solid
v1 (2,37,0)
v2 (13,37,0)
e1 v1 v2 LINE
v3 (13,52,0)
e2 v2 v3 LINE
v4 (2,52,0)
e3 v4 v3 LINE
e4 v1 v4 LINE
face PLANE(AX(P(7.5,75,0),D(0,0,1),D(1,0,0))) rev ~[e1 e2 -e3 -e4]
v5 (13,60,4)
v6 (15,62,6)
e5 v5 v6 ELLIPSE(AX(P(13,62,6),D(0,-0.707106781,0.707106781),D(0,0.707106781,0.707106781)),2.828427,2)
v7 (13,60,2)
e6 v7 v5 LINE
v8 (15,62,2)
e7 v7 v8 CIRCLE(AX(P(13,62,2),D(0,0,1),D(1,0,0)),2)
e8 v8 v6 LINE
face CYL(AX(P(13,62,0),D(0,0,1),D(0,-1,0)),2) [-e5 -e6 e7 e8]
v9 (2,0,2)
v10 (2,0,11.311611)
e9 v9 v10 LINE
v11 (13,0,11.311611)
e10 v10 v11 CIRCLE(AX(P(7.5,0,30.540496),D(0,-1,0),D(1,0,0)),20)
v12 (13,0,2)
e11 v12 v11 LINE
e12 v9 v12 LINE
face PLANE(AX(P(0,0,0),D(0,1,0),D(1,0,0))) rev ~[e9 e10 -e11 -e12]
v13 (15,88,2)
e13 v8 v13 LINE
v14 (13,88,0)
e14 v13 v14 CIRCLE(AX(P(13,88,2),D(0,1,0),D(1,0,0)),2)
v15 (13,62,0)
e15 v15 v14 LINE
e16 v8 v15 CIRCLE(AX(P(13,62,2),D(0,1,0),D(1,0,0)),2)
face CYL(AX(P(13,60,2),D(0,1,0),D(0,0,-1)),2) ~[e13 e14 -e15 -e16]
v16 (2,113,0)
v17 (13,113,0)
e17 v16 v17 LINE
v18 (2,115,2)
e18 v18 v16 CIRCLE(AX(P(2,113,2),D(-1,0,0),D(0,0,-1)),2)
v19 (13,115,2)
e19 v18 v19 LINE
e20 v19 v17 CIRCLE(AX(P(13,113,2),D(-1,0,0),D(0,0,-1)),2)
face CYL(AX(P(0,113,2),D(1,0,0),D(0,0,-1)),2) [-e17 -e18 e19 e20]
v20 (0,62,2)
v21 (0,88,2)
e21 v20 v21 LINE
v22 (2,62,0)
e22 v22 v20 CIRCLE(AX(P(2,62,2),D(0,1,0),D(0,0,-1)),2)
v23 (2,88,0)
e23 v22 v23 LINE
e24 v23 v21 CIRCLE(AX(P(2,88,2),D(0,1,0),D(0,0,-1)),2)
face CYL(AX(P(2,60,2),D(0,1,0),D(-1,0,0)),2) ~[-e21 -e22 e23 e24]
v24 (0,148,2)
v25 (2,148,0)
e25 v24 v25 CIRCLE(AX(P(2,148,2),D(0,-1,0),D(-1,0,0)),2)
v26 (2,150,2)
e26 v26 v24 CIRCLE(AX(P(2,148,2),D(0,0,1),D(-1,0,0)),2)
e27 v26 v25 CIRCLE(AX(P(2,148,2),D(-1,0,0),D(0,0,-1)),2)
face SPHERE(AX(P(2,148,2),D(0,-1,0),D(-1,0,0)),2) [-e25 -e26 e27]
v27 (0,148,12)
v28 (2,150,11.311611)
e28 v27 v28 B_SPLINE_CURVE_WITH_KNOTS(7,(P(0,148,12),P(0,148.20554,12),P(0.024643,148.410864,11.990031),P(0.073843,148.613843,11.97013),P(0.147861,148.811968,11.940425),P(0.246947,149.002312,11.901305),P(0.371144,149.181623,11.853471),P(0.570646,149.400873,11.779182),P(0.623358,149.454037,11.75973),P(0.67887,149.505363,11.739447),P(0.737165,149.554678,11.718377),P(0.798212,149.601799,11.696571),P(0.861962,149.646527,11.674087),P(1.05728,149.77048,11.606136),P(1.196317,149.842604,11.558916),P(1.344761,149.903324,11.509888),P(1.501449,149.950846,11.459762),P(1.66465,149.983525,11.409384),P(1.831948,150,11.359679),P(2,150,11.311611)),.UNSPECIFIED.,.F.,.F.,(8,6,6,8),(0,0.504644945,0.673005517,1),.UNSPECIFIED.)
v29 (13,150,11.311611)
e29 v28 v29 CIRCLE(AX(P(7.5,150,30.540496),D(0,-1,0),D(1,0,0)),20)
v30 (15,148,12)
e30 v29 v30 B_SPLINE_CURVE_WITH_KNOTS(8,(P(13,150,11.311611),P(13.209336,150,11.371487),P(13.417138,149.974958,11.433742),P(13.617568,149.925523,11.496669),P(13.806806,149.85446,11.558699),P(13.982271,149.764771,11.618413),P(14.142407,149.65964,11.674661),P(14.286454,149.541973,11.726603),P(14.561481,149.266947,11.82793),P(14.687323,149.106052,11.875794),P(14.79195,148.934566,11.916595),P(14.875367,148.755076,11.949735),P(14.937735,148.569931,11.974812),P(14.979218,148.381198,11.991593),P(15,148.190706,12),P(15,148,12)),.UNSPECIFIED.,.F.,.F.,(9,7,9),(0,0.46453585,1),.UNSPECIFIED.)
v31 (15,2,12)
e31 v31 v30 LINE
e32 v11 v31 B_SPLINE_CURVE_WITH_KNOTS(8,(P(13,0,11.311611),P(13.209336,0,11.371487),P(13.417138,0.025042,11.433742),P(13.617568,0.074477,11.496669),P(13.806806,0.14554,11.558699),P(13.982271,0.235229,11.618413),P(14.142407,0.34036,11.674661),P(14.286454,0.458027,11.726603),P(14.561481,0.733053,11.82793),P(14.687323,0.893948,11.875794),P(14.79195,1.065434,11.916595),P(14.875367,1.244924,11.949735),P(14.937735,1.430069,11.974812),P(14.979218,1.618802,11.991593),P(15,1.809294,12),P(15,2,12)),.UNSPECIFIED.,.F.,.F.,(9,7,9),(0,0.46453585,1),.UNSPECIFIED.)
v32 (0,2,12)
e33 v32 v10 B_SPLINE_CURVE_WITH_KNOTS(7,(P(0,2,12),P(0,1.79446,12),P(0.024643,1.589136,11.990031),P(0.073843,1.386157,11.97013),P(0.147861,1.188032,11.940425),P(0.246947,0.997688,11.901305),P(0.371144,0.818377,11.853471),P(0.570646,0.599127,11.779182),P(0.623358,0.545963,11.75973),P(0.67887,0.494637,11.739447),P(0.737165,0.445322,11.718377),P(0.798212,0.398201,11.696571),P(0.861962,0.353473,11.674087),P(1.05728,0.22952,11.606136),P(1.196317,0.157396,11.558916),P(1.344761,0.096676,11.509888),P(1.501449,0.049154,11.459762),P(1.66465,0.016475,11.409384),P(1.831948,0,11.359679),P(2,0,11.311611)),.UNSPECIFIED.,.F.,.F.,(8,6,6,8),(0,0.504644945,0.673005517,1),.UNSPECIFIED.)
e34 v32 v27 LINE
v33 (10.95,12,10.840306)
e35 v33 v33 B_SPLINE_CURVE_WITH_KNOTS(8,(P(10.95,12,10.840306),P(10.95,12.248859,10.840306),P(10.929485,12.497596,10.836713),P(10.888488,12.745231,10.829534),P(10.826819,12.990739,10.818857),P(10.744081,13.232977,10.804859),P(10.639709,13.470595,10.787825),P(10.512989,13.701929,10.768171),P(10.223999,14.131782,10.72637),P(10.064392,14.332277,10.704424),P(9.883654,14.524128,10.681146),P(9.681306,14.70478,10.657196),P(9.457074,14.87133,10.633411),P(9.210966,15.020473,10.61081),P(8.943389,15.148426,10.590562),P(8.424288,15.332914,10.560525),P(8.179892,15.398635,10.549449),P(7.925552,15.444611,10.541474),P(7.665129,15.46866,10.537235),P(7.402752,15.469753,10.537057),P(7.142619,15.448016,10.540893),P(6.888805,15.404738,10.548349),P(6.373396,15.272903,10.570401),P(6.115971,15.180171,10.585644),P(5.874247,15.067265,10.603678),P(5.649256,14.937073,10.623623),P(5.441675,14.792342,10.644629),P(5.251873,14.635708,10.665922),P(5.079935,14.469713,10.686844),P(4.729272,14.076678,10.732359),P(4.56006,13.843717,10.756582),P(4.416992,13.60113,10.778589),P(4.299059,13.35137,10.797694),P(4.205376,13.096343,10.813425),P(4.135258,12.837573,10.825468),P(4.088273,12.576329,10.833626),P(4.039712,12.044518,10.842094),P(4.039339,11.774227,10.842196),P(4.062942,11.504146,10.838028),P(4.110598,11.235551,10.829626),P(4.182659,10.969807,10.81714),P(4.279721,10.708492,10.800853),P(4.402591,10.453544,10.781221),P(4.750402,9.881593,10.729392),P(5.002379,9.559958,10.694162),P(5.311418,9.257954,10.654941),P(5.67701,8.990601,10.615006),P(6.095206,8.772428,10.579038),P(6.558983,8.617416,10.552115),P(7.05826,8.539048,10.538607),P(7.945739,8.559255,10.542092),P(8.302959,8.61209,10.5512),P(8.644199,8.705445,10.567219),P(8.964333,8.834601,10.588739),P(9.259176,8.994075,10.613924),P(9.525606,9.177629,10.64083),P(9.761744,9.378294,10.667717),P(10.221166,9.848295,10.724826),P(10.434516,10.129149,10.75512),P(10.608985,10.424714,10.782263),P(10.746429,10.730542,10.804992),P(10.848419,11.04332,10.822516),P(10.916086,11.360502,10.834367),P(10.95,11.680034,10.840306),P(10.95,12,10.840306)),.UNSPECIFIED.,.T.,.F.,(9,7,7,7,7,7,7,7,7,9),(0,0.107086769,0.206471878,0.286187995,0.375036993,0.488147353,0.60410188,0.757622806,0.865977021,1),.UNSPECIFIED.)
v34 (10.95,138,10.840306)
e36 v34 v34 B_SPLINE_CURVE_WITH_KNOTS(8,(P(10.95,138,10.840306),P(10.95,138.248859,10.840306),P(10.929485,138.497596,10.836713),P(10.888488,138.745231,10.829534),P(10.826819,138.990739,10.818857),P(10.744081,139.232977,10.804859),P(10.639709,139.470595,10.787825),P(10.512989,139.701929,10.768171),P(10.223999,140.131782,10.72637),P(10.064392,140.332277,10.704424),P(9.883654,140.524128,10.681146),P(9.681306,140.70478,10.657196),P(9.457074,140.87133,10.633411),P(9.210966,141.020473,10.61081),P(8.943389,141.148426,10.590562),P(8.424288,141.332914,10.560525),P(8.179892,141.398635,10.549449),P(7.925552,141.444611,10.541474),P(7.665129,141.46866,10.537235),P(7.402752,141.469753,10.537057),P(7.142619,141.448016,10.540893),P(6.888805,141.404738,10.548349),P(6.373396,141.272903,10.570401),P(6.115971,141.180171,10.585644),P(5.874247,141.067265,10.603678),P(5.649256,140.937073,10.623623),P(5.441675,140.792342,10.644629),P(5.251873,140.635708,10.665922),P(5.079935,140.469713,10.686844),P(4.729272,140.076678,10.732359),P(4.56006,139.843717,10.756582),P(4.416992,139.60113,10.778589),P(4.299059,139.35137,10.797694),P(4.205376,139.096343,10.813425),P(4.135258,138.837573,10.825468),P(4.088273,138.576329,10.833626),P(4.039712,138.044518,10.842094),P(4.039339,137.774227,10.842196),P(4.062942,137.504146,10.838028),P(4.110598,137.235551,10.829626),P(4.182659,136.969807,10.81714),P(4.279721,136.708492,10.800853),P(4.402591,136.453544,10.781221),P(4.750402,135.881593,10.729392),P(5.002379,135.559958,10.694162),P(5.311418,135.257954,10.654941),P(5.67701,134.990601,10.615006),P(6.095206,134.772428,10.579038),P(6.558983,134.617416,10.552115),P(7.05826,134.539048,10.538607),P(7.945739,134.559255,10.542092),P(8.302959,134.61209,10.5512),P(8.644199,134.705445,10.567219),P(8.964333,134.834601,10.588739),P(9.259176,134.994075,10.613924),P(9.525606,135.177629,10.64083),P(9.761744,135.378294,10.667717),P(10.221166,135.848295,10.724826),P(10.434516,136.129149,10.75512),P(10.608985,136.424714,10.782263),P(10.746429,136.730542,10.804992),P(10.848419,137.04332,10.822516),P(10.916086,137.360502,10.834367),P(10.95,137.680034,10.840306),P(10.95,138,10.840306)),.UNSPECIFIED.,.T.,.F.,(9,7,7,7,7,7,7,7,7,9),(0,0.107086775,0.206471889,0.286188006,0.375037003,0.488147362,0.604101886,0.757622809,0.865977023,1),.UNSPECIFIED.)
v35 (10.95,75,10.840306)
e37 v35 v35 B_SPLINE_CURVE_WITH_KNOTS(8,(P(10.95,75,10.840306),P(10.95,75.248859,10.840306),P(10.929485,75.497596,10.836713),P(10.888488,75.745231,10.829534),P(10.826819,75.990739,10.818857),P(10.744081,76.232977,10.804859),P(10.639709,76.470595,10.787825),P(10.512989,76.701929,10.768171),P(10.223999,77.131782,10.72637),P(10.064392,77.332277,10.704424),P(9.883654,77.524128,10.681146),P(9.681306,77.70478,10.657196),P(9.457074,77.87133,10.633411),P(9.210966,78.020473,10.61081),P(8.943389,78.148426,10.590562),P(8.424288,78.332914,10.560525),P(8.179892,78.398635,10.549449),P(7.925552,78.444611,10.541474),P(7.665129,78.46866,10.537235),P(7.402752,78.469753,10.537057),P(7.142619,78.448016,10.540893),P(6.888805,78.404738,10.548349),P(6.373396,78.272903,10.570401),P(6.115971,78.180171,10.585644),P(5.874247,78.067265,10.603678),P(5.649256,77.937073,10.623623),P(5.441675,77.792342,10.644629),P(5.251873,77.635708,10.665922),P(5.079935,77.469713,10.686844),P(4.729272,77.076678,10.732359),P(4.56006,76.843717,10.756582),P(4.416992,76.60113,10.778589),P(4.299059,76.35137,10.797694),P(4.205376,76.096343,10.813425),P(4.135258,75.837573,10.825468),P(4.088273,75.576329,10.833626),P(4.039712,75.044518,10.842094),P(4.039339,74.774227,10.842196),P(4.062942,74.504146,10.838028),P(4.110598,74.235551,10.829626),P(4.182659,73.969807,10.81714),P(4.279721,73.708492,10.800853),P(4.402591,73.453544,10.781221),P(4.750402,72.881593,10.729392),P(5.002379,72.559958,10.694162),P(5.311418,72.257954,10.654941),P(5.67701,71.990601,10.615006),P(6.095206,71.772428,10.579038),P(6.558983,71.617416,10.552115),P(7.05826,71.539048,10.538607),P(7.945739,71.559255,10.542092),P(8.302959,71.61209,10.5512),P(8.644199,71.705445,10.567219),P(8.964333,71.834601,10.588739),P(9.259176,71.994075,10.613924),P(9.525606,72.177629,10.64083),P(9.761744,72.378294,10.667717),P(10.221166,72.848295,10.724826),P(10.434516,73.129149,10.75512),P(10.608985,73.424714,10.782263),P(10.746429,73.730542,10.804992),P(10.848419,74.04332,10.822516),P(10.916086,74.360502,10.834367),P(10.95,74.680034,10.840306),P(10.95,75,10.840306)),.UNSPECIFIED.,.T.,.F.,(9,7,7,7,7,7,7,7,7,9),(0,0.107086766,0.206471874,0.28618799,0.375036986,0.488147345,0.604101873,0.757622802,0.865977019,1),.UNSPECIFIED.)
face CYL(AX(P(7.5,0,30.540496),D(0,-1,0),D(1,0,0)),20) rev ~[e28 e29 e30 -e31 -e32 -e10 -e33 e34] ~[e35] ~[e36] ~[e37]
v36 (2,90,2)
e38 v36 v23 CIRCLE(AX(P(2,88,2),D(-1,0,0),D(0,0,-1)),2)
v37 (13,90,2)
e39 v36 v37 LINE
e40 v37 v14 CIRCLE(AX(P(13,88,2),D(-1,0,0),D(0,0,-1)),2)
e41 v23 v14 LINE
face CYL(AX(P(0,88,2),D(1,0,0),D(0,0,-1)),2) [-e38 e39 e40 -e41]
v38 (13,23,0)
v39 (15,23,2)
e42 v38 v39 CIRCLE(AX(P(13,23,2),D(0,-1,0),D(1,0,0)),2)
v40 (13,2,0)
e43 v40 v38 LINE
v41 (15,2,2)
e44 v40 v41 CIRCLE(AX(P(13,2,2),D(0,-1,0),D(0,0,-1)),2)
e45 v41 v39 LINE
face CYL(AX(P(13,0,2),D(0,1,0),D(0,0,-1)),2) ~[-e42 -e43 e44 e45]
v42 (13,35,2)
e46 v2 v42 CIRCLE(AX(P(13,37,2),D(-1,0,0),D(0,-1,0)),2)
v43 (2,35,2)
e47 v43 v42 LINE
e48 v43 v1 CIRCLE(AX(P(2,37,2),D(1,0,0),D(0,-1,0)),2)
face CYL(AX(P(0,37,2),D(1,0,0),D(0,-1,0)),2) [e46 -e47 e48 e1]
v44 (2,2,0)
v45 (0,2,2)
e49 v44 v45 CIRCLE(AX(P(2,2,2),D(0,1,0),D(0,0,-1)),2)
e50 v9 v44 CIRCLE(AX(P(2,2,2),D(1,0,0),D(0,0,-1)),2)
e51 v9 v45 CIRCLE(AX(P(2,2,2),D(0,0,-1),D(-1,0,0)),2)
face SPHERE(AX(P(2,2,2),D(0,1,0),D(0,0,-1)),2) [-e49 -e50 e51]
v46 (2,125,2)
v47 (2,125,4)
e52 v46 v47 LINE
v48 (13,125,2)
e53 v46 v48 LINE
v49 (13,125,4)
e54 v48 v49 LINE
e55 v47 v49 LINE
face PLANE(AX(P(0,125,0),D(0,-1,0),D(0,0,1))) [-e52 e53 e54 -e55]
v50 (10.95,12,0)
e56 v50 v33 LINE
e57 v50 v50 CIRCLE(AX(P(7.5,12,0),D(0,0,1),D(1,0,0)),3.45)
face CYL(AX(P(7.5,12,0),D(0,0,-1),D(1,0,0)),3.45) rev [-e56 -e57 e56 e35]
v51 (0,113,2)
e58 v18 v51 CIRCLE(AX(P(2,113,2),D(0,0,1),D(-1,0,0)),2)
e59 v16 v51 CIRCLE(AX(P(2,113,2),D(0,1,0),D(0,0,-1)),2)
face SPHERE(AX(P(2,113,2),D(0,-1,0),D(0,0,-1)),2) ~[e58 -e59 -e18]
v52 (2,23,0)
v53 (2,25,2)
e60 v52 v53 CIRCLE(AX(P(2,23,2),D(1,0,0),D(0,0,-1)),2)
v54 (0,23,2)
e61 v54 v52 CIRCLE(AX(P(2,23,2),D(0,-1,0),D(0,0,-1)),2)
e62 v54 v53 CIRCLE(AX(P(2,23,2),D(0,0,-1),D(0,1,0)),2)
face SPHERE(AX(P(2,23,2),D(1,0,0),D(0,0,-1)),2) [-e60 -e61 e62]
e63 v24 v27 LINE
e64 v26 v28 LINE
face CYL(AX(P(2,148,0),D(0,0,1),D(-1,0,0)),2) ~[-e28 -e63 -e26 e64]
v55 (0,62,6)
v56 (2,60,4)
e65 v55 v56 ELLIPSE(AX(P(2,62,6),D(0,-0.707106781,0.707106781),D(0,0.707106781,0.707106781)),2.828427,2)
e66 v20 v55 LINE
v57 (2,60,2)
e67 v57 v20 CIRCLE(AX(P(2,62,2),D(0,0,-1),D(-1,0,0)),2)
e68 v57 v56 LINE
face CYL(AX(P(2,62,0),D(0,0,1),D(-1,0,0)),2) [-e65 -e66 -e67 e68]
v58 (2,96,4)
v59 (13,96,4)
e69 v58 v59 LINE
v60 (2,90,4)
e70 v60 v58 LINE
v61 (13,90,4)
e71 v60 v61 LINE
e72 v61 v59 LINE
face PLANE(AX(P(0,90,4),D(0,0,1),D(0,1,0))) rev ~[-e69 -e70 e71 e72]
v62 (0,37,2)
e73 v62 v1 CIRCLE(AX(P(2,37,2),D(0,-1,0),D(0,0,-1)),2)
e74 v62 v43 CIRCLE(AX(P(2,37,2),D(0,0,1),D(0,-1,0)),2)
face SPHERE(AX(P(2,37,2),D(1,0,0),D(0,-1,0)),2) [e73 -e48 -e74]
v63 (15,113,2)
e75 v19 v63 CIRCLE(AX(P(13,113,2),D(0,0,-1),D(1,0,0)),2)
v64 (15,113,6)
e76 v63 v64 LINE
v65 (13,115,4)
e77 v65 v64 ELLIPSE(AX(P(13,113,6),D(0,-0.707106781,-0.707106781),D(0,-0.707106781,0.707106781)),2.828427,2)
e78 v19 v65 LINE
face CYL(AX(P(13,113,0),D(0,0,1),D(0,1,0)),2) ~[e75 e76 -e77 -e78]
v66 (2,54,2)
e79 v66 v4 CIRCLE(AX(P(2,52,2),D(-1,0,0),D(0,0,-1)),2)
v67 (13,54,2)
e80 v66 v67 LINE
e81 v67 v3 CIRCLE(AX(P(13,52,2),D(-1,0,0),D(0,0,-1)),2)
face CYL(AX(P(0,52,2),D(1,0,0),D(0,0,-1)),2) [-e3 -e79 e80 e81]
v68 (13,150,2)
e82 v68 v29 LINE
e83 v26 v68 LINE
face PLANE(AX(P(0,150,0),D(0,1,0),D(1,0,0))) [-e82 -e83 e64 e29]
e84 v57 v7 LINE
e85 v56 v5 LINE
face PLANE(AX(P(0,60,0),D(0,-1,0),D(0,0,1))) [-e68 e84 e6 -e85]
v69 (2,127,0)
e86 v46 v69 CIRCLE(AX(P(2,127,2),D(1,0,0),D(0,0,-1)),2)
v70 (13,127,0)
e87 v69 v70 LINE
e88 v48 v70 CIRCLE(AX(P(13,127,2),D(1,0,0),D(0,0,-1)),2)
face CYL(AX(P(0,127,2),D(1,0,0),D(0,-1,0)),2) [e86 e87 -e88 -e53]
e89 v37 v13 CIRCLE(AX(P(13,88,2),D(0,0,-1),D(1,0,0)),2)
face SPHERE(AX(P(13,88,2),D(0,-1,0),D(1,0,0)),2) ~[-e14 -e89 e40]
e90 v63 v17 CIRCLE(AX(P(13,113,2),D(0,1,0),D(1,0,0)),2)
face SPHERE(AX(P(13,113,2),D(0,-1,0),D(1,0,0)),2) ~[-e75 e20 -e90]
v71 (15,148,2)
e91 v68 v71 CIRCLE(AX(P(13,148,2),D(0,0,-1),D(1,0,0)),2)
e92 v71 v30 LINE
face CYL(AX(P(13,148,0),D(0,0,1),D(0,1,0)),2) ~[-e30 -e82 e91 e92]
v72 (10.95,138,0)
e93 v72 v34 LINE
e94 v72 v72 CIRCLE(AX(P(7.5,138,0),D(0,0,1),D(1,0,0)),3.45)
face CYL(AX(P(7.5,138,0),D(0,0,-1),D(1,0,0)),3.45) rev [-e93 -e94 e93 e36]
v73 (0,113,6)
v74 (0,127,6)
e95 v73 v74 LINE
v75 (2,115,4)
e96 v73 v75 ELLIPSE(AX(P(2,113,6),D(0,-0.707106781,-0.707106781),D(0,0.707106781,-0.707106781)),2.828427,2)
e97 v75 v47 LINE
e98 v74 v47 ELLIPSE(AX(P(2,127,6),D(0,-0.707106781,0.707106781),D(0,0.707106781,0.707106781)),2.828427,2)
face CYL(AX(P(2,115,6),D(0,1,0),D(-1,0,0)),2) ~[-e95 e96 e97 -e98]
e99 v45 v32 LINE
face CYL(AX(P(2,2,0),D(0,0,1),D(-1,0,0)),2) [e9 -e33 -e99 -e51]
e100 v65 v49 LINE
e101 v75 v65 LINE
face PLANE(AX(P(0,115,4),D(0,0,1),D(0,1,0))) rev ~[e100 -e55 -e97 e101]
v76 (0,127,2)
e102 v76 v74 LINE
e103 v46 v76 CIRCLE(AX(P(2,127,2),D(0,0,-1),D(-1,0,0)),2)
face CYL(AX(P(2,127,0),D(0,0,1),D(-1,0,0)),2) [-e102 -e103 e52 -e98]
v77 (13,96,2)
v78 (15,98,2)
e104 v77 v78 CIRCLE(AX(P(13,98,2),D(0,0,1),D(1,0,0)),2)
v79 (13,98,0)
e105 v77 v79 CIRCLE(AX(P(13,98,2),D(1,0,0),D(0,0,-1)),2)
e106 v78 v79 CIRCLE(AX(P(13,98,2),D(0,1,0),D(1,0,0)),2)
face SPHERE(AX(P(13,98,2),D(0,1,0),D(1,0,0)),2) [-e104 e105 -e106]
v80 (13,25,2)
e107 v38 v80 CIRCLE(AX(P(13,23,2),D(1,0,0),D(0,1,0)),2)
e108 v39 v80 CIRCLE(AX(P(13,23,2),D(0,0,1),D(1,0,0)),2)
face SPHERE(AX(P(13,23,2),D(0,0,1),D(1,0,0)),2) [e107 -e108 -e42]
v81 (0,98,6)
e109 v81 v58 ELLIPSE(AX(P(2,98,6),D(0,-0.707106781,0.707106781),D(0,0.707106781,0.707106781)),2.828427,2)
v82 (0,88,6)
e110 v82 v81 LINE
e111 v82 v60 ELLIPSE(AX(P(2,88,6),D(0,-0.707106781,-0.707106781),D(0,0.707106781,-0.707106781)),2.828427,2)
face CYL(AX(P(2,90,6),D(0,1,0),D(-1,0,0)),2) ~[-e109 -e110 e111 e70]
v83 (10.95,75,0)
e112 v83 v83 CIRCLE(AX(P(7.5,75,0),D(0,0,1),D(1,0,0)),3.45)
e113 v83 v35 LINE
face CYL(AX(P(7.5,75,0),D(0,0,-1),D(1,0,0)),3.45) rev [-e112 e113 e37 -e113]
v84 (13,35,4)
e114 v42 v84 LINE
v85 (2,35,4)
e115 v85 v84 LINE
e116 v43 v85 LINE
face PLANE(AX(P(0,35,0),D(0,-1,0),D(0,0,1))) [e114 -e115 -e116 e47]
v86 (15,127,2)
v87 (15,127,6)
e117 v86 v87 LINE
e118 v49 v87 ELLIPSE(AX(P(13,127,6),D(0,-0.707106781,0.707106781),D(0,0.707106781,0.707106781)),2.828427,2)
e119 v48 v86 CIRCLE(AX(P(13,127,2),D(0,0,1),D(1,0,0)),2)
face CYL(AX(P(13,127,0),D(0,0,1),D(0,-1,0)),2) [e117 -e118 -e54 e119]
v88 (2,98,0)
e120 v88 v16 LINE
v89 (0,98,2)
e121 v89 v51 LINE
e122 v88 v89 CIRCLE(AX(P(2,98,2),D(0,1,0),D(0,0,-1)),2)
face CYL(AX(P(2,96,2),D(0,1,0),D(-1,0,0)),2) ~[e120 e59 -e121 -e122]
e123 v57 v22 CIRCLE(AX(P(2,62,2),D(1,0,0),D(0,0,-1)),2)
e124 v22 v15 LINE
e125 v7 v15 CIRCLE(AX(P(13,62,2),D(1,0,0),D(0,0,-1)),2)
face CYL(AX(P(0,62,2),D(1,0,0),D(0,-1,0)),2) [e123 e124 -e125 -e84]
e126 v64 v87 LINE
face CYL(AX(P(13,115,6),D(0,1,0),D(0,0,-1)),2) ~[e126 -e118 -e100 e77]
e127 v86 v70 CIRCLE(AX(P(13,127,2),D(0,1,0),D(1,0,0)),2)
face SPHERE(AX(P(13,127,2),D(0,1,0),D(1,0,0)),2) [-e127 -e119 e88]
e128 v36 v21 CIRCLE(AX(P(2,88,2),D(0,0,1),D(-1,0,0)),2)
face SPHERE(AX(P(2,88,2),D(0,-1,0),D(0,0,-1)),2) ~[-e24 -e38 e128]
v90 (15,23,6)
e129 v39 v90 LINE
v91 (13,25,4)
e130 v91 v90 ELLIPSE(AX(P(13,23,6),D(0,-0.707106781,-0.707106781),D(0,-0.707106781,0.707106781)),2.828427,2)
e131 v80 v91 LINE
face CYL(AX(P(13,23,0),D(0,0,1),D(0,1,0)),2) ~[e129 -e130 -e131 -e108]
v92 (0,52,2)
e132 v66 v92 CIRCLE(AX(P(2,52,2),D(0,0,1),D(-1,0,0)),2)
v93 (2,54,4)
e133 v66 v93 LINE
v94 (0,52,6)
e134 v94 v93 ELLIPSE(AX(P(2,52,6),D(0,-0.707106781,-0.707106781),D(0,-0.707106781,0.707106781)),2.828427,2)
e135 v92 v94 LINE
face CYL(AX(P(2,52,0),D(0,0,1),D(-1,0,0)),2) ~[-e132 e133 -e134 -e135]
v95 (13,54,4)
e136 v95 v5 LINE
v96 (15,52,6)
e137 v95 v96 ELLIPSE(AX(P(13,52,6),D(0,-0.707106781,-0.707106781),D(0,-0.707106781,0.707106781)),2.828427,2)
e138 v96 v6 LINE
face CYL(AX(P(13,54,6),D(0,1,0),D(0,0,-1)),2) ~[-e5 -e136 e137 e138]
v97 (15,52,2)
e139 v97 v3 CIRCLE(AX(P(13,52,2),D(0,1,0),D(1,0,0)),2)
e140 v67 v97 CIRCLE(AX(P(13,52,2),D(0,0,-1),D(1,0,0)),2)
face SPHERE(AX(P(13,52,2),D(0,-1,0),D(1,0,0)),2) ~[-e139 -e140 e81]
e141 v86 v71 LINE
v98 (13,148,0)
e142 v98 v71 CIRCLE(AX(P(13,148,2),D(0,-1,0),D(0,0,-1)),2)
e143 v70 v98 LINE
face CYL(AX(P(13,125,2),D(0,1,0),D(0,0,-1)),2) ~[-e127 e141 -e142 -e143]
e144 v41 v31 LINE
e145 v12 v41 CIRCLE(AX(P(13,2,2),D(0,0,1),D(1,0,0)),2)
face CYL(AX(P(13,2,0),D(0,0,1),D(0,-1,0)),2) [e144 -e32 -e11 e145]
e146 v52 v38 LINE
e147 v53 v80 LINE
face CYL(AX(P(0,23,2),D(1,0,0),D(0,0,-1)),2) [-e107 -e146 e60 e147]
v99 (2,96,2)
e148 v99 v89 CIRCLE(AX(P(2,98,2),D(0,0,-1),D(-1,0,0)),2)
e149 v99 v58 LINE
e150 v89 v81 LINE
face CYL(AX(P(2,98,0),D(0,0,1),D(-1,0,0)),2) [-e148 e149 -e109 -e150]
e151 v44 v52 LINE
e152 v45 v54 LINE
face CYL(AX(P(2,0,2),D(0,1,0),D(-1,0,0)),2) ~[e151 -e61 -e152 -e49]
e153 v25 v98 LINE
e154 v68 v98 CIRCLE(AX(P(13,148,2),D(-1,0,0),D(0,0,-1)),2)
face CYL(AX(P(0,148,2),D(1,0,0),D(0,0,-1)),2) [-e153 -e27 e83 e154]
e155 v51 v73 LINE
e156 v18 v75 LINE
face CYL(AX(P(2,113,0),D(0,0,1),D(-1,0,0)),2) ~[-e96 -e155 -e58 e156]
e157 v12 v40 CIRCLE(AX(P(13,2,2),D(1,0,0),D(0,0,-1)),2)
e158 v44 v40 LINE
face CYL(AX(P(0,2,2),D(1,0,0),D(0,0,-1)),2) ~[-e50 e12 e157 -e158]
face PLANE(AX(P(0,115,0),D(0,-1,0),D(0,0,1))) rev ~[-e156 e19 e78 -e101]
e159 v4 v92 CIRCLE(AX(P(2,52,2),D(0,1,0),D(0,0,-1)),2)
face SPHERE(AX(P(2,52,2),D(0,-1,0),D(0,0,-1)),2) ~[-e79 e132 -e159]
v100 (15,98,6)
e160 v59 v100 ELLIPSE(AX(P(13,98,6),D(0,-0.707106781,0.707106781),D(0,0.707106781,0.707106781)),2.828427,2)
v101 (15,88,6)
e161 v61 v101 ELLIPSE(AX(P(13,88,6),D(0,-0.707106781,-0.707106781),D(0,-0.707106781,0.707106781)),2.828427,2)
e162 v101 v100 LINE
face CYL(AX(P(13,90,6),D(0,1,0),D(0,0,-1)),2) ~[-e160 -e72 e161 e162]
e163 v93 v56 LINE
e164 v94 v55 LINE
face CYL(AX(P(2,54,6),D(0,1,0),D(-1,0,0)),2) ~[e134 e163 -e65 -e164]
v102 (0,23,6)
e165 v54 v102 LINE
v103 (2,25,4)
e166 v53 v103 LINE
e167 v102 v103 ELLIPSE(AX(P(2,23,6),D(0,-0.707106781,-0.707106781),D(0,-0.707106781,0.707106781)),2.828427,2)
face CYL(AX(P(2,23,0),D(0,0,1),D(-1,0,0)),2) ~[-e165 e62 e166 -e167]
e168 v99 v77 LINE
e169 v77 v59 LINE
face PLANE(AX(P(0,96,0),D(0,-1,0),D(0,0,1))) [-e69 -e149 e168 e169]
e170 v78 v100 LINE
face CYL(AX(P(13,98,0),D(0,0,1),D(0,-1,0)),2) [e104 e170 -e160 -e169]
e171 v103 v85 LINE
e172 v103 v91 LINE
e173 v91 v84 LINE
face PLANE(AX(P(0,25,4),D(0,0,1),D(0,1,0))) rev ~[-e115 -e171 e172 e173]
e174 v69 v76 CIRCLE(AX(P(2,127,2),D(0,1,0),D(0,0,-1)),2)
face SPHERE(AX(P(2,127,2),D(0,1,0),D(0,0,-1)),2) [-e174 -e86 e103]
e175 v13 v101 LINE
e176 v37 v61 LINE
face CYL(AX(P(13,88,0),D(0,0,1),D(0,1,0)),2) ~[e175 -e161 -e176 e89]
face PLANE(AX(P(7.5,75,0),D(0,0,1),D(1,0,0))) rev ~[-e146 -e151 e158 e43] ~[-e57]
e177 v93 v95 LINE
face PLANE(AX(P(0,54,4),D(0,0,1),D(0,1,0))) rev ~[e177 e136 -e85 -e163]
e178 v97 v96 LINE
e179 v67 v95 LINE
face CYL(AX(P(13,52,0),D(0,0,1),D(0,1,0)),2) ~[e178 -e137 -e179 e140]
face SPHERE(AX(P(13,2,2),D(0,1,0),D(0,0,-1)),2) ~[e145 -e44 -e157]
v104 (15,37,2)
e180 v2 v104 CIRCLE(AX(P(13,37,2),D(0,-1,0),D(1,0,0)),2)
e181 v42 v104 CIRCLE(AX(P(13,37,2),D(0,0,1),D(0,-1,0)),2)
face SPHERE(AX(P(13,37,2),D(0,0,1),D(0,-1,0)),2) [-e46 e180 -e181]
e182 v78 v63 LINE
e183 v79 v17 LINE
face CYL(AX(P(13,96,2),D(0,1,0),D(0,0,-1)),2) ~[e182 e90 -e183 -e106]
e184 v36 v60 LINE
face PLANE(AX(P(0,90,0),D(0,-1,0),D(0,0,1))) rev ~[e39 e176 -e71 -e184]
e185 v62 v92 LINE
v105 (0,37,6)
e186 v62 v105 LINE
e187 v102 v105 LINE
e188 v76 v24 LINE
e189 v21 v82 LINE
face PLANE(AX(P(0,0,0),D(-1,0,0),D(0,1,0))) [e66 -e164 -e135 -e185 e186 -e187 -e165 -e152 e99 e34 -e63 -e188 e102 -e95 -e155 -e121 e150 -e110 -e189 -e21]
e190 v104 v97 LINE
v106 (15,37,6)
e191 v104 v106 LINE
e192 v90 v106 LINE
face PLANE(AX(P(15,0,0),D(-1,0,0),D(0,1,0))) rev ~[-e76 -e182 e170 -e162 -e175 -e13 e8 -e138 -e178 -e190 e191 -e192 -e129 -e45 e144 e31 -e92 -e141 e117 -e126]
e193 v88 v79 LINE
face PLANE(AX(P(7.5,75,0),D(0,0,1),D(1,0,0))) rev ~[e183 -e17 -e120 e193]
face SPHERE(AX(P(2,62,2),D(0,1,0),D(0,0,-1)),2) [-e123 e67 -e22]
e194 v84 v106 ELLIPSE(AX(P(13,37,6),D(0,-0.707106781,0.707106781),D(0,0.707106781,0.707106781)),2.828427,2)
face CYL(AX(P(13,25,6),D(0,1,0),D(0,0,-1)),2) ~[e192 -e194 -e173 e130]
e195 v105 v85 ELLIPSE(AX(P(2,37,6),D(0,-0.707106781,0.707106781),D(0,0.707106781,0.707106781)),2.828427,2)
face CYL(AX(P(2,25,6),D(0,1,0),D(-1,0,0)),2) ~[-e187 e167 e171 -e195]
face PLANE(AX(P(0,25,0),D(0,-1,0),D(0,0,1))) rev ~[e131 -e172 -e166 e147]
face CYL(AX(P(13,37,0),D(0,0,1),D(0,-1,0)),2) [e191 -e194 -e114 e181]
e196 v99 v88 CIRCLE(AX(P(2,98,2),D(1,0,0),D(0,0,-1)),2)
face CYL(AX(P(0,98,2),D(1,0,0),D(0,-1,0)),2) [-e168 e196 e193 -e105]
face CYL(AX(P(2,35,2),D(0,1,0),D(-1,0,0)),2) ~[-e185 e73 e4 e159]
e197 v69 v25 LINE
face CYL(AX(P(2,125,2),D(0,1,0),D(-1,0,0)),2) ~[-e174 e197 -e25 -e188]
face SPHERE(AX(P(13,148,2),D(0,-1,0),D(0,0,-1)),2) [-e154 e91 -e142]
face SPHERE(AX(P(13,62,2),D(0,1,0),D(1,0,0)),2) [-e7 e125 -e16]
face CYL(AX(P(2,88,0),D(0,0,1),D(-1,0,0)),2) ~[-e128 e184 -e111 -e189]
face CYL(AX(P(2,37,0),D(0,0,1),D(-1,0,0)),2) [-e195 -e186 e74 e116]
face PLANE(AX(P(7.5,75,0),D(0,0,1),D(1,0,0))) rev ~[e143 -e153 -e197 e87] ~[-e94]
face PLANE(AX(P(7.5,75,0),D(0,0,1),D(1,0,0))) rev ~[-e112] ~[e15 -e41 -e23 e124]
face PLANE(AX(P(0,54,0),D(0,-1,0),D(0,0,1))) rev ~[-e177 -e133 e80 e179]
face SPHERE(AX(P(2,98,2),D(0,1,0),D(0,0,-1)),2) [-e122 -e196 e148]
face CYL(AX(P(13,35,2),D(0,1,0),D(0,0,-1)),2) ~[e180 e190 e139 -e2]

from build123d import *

# Parameters (mm, degrees)
SKETCH_W        = 15
SKETCH_H        = 150
SKETCH_R        = 3.45
PAD_DEPTH       = 12
SKETCH003_W     = 10
SKETCH003_H     = 4
SKETCH003_W_2   = 6
POCKET002_DEPTH = 15.001
SKETCH004_R     = 20
POCKET003_DEPTH = 150.001
FILLET_R        = 2


with BuildPart() as part:
    # Sketch → Pad (new body)
    with BuildSketch(Plane.XY):
        with Locations((7.5, 75)):
            Rectangle(SKETCH_W, SKETCH_H)
        with Locations((7.5, 138)):
            Circle(SKETCH_R, mode=Mode.SUBTRACT)
        with Locations((7.5, 75)):
            Circle(SKETCH_R, mode=Mode.SUBTRACT)
        with Locations((7.5, 12)):
            Circle(SKETCH_R, mode=Mode.SUBTRACT)
    extrude(amount=PAD_DEPTH)

    # Sketch003 → Pocket002 (cut, through all)
    with BuildSketch(Plane.YZ):
        with Locations((30, 2)):
            Rectangle(SKETCH003_W, SKETCH003_H)
        with Locations((57, 2)):
            Rectangle(SKETCH003_W_2, SKETCH003_H)
        with Locations((120, 2)):
            Rectangle(SKETCH003_W, SKETCH003_H)
        with Locations((93, 2)):
            Rectangle(SKETCH003_W_2, SKETCH003_H)
    extrude(amount=POCKET002_DEPTH, mode=Mode.SUBTRACT)

    # Sketch004 → Pocket003 (cut, through all)
    with BuildSketch(Plane.XZ):
        with Locations((7.5, 30.540496)):
            Circle(SKETCH004_R)
    extrude(amount=-POCKET003_DEPTH, mode=Mode.SUBTRACT)

    # Fillet
    fillet_edges = [part.edges().sort_by_distance(p)[0] for p in [
        (15, 25, 2),
        (15, 30, 4),
        (15, 35, 2),
        (15, 12.5, 0),
        (7.5, 25, 0),
        (7.5, 35, 0),
        (0, 12.5, 0),
        (0, 25, 2),
        (0, 30, 4),
        (0, 35, 2),
        (0, 44.5, 0),
        (15, 44.5, 0),
        (7.5, 0, 0),
        (0, 0, 6),
        (15, 0, 6),
        (0, 75, 0),
        (15, 75, 0),
        (15, 105.5, 0),
        (0, 105.5, 0),
        (0, 137.5, 0),
        (15, 137.5, 0),
        (0, 150, 6),
        (7.5, 150, 0),
        (15, 150, 6),
        (15, 54, 2),
        (15, 57, 4),
        (15, 60, 2),
        (15, 90, 2),
        (15, 93, 4),
        (15, 96, 2),
        (15, 115, 2),
        (15, 120, 4),
        (15, 125, 2),
        (7.5, 54, 0),
        (7.5, 60, 0),
        (0, 54, 2),
        (0, 57, 4),
        (0, 60, 2),
        (7.5, 90, 0),
        (7.5, 96, 0),
        (0, 93, 4),
        (0, 96, 2),
        (0, 90, 2),
        (7.5, 115, 0),
        (7.5, 125, 0),
        (0, 125, 2),
        (0, 120, 4),
        (0, 115, 2),
    ]]
    fillet(fillet_edges, radius=FILLET_R)


solid = part.part
